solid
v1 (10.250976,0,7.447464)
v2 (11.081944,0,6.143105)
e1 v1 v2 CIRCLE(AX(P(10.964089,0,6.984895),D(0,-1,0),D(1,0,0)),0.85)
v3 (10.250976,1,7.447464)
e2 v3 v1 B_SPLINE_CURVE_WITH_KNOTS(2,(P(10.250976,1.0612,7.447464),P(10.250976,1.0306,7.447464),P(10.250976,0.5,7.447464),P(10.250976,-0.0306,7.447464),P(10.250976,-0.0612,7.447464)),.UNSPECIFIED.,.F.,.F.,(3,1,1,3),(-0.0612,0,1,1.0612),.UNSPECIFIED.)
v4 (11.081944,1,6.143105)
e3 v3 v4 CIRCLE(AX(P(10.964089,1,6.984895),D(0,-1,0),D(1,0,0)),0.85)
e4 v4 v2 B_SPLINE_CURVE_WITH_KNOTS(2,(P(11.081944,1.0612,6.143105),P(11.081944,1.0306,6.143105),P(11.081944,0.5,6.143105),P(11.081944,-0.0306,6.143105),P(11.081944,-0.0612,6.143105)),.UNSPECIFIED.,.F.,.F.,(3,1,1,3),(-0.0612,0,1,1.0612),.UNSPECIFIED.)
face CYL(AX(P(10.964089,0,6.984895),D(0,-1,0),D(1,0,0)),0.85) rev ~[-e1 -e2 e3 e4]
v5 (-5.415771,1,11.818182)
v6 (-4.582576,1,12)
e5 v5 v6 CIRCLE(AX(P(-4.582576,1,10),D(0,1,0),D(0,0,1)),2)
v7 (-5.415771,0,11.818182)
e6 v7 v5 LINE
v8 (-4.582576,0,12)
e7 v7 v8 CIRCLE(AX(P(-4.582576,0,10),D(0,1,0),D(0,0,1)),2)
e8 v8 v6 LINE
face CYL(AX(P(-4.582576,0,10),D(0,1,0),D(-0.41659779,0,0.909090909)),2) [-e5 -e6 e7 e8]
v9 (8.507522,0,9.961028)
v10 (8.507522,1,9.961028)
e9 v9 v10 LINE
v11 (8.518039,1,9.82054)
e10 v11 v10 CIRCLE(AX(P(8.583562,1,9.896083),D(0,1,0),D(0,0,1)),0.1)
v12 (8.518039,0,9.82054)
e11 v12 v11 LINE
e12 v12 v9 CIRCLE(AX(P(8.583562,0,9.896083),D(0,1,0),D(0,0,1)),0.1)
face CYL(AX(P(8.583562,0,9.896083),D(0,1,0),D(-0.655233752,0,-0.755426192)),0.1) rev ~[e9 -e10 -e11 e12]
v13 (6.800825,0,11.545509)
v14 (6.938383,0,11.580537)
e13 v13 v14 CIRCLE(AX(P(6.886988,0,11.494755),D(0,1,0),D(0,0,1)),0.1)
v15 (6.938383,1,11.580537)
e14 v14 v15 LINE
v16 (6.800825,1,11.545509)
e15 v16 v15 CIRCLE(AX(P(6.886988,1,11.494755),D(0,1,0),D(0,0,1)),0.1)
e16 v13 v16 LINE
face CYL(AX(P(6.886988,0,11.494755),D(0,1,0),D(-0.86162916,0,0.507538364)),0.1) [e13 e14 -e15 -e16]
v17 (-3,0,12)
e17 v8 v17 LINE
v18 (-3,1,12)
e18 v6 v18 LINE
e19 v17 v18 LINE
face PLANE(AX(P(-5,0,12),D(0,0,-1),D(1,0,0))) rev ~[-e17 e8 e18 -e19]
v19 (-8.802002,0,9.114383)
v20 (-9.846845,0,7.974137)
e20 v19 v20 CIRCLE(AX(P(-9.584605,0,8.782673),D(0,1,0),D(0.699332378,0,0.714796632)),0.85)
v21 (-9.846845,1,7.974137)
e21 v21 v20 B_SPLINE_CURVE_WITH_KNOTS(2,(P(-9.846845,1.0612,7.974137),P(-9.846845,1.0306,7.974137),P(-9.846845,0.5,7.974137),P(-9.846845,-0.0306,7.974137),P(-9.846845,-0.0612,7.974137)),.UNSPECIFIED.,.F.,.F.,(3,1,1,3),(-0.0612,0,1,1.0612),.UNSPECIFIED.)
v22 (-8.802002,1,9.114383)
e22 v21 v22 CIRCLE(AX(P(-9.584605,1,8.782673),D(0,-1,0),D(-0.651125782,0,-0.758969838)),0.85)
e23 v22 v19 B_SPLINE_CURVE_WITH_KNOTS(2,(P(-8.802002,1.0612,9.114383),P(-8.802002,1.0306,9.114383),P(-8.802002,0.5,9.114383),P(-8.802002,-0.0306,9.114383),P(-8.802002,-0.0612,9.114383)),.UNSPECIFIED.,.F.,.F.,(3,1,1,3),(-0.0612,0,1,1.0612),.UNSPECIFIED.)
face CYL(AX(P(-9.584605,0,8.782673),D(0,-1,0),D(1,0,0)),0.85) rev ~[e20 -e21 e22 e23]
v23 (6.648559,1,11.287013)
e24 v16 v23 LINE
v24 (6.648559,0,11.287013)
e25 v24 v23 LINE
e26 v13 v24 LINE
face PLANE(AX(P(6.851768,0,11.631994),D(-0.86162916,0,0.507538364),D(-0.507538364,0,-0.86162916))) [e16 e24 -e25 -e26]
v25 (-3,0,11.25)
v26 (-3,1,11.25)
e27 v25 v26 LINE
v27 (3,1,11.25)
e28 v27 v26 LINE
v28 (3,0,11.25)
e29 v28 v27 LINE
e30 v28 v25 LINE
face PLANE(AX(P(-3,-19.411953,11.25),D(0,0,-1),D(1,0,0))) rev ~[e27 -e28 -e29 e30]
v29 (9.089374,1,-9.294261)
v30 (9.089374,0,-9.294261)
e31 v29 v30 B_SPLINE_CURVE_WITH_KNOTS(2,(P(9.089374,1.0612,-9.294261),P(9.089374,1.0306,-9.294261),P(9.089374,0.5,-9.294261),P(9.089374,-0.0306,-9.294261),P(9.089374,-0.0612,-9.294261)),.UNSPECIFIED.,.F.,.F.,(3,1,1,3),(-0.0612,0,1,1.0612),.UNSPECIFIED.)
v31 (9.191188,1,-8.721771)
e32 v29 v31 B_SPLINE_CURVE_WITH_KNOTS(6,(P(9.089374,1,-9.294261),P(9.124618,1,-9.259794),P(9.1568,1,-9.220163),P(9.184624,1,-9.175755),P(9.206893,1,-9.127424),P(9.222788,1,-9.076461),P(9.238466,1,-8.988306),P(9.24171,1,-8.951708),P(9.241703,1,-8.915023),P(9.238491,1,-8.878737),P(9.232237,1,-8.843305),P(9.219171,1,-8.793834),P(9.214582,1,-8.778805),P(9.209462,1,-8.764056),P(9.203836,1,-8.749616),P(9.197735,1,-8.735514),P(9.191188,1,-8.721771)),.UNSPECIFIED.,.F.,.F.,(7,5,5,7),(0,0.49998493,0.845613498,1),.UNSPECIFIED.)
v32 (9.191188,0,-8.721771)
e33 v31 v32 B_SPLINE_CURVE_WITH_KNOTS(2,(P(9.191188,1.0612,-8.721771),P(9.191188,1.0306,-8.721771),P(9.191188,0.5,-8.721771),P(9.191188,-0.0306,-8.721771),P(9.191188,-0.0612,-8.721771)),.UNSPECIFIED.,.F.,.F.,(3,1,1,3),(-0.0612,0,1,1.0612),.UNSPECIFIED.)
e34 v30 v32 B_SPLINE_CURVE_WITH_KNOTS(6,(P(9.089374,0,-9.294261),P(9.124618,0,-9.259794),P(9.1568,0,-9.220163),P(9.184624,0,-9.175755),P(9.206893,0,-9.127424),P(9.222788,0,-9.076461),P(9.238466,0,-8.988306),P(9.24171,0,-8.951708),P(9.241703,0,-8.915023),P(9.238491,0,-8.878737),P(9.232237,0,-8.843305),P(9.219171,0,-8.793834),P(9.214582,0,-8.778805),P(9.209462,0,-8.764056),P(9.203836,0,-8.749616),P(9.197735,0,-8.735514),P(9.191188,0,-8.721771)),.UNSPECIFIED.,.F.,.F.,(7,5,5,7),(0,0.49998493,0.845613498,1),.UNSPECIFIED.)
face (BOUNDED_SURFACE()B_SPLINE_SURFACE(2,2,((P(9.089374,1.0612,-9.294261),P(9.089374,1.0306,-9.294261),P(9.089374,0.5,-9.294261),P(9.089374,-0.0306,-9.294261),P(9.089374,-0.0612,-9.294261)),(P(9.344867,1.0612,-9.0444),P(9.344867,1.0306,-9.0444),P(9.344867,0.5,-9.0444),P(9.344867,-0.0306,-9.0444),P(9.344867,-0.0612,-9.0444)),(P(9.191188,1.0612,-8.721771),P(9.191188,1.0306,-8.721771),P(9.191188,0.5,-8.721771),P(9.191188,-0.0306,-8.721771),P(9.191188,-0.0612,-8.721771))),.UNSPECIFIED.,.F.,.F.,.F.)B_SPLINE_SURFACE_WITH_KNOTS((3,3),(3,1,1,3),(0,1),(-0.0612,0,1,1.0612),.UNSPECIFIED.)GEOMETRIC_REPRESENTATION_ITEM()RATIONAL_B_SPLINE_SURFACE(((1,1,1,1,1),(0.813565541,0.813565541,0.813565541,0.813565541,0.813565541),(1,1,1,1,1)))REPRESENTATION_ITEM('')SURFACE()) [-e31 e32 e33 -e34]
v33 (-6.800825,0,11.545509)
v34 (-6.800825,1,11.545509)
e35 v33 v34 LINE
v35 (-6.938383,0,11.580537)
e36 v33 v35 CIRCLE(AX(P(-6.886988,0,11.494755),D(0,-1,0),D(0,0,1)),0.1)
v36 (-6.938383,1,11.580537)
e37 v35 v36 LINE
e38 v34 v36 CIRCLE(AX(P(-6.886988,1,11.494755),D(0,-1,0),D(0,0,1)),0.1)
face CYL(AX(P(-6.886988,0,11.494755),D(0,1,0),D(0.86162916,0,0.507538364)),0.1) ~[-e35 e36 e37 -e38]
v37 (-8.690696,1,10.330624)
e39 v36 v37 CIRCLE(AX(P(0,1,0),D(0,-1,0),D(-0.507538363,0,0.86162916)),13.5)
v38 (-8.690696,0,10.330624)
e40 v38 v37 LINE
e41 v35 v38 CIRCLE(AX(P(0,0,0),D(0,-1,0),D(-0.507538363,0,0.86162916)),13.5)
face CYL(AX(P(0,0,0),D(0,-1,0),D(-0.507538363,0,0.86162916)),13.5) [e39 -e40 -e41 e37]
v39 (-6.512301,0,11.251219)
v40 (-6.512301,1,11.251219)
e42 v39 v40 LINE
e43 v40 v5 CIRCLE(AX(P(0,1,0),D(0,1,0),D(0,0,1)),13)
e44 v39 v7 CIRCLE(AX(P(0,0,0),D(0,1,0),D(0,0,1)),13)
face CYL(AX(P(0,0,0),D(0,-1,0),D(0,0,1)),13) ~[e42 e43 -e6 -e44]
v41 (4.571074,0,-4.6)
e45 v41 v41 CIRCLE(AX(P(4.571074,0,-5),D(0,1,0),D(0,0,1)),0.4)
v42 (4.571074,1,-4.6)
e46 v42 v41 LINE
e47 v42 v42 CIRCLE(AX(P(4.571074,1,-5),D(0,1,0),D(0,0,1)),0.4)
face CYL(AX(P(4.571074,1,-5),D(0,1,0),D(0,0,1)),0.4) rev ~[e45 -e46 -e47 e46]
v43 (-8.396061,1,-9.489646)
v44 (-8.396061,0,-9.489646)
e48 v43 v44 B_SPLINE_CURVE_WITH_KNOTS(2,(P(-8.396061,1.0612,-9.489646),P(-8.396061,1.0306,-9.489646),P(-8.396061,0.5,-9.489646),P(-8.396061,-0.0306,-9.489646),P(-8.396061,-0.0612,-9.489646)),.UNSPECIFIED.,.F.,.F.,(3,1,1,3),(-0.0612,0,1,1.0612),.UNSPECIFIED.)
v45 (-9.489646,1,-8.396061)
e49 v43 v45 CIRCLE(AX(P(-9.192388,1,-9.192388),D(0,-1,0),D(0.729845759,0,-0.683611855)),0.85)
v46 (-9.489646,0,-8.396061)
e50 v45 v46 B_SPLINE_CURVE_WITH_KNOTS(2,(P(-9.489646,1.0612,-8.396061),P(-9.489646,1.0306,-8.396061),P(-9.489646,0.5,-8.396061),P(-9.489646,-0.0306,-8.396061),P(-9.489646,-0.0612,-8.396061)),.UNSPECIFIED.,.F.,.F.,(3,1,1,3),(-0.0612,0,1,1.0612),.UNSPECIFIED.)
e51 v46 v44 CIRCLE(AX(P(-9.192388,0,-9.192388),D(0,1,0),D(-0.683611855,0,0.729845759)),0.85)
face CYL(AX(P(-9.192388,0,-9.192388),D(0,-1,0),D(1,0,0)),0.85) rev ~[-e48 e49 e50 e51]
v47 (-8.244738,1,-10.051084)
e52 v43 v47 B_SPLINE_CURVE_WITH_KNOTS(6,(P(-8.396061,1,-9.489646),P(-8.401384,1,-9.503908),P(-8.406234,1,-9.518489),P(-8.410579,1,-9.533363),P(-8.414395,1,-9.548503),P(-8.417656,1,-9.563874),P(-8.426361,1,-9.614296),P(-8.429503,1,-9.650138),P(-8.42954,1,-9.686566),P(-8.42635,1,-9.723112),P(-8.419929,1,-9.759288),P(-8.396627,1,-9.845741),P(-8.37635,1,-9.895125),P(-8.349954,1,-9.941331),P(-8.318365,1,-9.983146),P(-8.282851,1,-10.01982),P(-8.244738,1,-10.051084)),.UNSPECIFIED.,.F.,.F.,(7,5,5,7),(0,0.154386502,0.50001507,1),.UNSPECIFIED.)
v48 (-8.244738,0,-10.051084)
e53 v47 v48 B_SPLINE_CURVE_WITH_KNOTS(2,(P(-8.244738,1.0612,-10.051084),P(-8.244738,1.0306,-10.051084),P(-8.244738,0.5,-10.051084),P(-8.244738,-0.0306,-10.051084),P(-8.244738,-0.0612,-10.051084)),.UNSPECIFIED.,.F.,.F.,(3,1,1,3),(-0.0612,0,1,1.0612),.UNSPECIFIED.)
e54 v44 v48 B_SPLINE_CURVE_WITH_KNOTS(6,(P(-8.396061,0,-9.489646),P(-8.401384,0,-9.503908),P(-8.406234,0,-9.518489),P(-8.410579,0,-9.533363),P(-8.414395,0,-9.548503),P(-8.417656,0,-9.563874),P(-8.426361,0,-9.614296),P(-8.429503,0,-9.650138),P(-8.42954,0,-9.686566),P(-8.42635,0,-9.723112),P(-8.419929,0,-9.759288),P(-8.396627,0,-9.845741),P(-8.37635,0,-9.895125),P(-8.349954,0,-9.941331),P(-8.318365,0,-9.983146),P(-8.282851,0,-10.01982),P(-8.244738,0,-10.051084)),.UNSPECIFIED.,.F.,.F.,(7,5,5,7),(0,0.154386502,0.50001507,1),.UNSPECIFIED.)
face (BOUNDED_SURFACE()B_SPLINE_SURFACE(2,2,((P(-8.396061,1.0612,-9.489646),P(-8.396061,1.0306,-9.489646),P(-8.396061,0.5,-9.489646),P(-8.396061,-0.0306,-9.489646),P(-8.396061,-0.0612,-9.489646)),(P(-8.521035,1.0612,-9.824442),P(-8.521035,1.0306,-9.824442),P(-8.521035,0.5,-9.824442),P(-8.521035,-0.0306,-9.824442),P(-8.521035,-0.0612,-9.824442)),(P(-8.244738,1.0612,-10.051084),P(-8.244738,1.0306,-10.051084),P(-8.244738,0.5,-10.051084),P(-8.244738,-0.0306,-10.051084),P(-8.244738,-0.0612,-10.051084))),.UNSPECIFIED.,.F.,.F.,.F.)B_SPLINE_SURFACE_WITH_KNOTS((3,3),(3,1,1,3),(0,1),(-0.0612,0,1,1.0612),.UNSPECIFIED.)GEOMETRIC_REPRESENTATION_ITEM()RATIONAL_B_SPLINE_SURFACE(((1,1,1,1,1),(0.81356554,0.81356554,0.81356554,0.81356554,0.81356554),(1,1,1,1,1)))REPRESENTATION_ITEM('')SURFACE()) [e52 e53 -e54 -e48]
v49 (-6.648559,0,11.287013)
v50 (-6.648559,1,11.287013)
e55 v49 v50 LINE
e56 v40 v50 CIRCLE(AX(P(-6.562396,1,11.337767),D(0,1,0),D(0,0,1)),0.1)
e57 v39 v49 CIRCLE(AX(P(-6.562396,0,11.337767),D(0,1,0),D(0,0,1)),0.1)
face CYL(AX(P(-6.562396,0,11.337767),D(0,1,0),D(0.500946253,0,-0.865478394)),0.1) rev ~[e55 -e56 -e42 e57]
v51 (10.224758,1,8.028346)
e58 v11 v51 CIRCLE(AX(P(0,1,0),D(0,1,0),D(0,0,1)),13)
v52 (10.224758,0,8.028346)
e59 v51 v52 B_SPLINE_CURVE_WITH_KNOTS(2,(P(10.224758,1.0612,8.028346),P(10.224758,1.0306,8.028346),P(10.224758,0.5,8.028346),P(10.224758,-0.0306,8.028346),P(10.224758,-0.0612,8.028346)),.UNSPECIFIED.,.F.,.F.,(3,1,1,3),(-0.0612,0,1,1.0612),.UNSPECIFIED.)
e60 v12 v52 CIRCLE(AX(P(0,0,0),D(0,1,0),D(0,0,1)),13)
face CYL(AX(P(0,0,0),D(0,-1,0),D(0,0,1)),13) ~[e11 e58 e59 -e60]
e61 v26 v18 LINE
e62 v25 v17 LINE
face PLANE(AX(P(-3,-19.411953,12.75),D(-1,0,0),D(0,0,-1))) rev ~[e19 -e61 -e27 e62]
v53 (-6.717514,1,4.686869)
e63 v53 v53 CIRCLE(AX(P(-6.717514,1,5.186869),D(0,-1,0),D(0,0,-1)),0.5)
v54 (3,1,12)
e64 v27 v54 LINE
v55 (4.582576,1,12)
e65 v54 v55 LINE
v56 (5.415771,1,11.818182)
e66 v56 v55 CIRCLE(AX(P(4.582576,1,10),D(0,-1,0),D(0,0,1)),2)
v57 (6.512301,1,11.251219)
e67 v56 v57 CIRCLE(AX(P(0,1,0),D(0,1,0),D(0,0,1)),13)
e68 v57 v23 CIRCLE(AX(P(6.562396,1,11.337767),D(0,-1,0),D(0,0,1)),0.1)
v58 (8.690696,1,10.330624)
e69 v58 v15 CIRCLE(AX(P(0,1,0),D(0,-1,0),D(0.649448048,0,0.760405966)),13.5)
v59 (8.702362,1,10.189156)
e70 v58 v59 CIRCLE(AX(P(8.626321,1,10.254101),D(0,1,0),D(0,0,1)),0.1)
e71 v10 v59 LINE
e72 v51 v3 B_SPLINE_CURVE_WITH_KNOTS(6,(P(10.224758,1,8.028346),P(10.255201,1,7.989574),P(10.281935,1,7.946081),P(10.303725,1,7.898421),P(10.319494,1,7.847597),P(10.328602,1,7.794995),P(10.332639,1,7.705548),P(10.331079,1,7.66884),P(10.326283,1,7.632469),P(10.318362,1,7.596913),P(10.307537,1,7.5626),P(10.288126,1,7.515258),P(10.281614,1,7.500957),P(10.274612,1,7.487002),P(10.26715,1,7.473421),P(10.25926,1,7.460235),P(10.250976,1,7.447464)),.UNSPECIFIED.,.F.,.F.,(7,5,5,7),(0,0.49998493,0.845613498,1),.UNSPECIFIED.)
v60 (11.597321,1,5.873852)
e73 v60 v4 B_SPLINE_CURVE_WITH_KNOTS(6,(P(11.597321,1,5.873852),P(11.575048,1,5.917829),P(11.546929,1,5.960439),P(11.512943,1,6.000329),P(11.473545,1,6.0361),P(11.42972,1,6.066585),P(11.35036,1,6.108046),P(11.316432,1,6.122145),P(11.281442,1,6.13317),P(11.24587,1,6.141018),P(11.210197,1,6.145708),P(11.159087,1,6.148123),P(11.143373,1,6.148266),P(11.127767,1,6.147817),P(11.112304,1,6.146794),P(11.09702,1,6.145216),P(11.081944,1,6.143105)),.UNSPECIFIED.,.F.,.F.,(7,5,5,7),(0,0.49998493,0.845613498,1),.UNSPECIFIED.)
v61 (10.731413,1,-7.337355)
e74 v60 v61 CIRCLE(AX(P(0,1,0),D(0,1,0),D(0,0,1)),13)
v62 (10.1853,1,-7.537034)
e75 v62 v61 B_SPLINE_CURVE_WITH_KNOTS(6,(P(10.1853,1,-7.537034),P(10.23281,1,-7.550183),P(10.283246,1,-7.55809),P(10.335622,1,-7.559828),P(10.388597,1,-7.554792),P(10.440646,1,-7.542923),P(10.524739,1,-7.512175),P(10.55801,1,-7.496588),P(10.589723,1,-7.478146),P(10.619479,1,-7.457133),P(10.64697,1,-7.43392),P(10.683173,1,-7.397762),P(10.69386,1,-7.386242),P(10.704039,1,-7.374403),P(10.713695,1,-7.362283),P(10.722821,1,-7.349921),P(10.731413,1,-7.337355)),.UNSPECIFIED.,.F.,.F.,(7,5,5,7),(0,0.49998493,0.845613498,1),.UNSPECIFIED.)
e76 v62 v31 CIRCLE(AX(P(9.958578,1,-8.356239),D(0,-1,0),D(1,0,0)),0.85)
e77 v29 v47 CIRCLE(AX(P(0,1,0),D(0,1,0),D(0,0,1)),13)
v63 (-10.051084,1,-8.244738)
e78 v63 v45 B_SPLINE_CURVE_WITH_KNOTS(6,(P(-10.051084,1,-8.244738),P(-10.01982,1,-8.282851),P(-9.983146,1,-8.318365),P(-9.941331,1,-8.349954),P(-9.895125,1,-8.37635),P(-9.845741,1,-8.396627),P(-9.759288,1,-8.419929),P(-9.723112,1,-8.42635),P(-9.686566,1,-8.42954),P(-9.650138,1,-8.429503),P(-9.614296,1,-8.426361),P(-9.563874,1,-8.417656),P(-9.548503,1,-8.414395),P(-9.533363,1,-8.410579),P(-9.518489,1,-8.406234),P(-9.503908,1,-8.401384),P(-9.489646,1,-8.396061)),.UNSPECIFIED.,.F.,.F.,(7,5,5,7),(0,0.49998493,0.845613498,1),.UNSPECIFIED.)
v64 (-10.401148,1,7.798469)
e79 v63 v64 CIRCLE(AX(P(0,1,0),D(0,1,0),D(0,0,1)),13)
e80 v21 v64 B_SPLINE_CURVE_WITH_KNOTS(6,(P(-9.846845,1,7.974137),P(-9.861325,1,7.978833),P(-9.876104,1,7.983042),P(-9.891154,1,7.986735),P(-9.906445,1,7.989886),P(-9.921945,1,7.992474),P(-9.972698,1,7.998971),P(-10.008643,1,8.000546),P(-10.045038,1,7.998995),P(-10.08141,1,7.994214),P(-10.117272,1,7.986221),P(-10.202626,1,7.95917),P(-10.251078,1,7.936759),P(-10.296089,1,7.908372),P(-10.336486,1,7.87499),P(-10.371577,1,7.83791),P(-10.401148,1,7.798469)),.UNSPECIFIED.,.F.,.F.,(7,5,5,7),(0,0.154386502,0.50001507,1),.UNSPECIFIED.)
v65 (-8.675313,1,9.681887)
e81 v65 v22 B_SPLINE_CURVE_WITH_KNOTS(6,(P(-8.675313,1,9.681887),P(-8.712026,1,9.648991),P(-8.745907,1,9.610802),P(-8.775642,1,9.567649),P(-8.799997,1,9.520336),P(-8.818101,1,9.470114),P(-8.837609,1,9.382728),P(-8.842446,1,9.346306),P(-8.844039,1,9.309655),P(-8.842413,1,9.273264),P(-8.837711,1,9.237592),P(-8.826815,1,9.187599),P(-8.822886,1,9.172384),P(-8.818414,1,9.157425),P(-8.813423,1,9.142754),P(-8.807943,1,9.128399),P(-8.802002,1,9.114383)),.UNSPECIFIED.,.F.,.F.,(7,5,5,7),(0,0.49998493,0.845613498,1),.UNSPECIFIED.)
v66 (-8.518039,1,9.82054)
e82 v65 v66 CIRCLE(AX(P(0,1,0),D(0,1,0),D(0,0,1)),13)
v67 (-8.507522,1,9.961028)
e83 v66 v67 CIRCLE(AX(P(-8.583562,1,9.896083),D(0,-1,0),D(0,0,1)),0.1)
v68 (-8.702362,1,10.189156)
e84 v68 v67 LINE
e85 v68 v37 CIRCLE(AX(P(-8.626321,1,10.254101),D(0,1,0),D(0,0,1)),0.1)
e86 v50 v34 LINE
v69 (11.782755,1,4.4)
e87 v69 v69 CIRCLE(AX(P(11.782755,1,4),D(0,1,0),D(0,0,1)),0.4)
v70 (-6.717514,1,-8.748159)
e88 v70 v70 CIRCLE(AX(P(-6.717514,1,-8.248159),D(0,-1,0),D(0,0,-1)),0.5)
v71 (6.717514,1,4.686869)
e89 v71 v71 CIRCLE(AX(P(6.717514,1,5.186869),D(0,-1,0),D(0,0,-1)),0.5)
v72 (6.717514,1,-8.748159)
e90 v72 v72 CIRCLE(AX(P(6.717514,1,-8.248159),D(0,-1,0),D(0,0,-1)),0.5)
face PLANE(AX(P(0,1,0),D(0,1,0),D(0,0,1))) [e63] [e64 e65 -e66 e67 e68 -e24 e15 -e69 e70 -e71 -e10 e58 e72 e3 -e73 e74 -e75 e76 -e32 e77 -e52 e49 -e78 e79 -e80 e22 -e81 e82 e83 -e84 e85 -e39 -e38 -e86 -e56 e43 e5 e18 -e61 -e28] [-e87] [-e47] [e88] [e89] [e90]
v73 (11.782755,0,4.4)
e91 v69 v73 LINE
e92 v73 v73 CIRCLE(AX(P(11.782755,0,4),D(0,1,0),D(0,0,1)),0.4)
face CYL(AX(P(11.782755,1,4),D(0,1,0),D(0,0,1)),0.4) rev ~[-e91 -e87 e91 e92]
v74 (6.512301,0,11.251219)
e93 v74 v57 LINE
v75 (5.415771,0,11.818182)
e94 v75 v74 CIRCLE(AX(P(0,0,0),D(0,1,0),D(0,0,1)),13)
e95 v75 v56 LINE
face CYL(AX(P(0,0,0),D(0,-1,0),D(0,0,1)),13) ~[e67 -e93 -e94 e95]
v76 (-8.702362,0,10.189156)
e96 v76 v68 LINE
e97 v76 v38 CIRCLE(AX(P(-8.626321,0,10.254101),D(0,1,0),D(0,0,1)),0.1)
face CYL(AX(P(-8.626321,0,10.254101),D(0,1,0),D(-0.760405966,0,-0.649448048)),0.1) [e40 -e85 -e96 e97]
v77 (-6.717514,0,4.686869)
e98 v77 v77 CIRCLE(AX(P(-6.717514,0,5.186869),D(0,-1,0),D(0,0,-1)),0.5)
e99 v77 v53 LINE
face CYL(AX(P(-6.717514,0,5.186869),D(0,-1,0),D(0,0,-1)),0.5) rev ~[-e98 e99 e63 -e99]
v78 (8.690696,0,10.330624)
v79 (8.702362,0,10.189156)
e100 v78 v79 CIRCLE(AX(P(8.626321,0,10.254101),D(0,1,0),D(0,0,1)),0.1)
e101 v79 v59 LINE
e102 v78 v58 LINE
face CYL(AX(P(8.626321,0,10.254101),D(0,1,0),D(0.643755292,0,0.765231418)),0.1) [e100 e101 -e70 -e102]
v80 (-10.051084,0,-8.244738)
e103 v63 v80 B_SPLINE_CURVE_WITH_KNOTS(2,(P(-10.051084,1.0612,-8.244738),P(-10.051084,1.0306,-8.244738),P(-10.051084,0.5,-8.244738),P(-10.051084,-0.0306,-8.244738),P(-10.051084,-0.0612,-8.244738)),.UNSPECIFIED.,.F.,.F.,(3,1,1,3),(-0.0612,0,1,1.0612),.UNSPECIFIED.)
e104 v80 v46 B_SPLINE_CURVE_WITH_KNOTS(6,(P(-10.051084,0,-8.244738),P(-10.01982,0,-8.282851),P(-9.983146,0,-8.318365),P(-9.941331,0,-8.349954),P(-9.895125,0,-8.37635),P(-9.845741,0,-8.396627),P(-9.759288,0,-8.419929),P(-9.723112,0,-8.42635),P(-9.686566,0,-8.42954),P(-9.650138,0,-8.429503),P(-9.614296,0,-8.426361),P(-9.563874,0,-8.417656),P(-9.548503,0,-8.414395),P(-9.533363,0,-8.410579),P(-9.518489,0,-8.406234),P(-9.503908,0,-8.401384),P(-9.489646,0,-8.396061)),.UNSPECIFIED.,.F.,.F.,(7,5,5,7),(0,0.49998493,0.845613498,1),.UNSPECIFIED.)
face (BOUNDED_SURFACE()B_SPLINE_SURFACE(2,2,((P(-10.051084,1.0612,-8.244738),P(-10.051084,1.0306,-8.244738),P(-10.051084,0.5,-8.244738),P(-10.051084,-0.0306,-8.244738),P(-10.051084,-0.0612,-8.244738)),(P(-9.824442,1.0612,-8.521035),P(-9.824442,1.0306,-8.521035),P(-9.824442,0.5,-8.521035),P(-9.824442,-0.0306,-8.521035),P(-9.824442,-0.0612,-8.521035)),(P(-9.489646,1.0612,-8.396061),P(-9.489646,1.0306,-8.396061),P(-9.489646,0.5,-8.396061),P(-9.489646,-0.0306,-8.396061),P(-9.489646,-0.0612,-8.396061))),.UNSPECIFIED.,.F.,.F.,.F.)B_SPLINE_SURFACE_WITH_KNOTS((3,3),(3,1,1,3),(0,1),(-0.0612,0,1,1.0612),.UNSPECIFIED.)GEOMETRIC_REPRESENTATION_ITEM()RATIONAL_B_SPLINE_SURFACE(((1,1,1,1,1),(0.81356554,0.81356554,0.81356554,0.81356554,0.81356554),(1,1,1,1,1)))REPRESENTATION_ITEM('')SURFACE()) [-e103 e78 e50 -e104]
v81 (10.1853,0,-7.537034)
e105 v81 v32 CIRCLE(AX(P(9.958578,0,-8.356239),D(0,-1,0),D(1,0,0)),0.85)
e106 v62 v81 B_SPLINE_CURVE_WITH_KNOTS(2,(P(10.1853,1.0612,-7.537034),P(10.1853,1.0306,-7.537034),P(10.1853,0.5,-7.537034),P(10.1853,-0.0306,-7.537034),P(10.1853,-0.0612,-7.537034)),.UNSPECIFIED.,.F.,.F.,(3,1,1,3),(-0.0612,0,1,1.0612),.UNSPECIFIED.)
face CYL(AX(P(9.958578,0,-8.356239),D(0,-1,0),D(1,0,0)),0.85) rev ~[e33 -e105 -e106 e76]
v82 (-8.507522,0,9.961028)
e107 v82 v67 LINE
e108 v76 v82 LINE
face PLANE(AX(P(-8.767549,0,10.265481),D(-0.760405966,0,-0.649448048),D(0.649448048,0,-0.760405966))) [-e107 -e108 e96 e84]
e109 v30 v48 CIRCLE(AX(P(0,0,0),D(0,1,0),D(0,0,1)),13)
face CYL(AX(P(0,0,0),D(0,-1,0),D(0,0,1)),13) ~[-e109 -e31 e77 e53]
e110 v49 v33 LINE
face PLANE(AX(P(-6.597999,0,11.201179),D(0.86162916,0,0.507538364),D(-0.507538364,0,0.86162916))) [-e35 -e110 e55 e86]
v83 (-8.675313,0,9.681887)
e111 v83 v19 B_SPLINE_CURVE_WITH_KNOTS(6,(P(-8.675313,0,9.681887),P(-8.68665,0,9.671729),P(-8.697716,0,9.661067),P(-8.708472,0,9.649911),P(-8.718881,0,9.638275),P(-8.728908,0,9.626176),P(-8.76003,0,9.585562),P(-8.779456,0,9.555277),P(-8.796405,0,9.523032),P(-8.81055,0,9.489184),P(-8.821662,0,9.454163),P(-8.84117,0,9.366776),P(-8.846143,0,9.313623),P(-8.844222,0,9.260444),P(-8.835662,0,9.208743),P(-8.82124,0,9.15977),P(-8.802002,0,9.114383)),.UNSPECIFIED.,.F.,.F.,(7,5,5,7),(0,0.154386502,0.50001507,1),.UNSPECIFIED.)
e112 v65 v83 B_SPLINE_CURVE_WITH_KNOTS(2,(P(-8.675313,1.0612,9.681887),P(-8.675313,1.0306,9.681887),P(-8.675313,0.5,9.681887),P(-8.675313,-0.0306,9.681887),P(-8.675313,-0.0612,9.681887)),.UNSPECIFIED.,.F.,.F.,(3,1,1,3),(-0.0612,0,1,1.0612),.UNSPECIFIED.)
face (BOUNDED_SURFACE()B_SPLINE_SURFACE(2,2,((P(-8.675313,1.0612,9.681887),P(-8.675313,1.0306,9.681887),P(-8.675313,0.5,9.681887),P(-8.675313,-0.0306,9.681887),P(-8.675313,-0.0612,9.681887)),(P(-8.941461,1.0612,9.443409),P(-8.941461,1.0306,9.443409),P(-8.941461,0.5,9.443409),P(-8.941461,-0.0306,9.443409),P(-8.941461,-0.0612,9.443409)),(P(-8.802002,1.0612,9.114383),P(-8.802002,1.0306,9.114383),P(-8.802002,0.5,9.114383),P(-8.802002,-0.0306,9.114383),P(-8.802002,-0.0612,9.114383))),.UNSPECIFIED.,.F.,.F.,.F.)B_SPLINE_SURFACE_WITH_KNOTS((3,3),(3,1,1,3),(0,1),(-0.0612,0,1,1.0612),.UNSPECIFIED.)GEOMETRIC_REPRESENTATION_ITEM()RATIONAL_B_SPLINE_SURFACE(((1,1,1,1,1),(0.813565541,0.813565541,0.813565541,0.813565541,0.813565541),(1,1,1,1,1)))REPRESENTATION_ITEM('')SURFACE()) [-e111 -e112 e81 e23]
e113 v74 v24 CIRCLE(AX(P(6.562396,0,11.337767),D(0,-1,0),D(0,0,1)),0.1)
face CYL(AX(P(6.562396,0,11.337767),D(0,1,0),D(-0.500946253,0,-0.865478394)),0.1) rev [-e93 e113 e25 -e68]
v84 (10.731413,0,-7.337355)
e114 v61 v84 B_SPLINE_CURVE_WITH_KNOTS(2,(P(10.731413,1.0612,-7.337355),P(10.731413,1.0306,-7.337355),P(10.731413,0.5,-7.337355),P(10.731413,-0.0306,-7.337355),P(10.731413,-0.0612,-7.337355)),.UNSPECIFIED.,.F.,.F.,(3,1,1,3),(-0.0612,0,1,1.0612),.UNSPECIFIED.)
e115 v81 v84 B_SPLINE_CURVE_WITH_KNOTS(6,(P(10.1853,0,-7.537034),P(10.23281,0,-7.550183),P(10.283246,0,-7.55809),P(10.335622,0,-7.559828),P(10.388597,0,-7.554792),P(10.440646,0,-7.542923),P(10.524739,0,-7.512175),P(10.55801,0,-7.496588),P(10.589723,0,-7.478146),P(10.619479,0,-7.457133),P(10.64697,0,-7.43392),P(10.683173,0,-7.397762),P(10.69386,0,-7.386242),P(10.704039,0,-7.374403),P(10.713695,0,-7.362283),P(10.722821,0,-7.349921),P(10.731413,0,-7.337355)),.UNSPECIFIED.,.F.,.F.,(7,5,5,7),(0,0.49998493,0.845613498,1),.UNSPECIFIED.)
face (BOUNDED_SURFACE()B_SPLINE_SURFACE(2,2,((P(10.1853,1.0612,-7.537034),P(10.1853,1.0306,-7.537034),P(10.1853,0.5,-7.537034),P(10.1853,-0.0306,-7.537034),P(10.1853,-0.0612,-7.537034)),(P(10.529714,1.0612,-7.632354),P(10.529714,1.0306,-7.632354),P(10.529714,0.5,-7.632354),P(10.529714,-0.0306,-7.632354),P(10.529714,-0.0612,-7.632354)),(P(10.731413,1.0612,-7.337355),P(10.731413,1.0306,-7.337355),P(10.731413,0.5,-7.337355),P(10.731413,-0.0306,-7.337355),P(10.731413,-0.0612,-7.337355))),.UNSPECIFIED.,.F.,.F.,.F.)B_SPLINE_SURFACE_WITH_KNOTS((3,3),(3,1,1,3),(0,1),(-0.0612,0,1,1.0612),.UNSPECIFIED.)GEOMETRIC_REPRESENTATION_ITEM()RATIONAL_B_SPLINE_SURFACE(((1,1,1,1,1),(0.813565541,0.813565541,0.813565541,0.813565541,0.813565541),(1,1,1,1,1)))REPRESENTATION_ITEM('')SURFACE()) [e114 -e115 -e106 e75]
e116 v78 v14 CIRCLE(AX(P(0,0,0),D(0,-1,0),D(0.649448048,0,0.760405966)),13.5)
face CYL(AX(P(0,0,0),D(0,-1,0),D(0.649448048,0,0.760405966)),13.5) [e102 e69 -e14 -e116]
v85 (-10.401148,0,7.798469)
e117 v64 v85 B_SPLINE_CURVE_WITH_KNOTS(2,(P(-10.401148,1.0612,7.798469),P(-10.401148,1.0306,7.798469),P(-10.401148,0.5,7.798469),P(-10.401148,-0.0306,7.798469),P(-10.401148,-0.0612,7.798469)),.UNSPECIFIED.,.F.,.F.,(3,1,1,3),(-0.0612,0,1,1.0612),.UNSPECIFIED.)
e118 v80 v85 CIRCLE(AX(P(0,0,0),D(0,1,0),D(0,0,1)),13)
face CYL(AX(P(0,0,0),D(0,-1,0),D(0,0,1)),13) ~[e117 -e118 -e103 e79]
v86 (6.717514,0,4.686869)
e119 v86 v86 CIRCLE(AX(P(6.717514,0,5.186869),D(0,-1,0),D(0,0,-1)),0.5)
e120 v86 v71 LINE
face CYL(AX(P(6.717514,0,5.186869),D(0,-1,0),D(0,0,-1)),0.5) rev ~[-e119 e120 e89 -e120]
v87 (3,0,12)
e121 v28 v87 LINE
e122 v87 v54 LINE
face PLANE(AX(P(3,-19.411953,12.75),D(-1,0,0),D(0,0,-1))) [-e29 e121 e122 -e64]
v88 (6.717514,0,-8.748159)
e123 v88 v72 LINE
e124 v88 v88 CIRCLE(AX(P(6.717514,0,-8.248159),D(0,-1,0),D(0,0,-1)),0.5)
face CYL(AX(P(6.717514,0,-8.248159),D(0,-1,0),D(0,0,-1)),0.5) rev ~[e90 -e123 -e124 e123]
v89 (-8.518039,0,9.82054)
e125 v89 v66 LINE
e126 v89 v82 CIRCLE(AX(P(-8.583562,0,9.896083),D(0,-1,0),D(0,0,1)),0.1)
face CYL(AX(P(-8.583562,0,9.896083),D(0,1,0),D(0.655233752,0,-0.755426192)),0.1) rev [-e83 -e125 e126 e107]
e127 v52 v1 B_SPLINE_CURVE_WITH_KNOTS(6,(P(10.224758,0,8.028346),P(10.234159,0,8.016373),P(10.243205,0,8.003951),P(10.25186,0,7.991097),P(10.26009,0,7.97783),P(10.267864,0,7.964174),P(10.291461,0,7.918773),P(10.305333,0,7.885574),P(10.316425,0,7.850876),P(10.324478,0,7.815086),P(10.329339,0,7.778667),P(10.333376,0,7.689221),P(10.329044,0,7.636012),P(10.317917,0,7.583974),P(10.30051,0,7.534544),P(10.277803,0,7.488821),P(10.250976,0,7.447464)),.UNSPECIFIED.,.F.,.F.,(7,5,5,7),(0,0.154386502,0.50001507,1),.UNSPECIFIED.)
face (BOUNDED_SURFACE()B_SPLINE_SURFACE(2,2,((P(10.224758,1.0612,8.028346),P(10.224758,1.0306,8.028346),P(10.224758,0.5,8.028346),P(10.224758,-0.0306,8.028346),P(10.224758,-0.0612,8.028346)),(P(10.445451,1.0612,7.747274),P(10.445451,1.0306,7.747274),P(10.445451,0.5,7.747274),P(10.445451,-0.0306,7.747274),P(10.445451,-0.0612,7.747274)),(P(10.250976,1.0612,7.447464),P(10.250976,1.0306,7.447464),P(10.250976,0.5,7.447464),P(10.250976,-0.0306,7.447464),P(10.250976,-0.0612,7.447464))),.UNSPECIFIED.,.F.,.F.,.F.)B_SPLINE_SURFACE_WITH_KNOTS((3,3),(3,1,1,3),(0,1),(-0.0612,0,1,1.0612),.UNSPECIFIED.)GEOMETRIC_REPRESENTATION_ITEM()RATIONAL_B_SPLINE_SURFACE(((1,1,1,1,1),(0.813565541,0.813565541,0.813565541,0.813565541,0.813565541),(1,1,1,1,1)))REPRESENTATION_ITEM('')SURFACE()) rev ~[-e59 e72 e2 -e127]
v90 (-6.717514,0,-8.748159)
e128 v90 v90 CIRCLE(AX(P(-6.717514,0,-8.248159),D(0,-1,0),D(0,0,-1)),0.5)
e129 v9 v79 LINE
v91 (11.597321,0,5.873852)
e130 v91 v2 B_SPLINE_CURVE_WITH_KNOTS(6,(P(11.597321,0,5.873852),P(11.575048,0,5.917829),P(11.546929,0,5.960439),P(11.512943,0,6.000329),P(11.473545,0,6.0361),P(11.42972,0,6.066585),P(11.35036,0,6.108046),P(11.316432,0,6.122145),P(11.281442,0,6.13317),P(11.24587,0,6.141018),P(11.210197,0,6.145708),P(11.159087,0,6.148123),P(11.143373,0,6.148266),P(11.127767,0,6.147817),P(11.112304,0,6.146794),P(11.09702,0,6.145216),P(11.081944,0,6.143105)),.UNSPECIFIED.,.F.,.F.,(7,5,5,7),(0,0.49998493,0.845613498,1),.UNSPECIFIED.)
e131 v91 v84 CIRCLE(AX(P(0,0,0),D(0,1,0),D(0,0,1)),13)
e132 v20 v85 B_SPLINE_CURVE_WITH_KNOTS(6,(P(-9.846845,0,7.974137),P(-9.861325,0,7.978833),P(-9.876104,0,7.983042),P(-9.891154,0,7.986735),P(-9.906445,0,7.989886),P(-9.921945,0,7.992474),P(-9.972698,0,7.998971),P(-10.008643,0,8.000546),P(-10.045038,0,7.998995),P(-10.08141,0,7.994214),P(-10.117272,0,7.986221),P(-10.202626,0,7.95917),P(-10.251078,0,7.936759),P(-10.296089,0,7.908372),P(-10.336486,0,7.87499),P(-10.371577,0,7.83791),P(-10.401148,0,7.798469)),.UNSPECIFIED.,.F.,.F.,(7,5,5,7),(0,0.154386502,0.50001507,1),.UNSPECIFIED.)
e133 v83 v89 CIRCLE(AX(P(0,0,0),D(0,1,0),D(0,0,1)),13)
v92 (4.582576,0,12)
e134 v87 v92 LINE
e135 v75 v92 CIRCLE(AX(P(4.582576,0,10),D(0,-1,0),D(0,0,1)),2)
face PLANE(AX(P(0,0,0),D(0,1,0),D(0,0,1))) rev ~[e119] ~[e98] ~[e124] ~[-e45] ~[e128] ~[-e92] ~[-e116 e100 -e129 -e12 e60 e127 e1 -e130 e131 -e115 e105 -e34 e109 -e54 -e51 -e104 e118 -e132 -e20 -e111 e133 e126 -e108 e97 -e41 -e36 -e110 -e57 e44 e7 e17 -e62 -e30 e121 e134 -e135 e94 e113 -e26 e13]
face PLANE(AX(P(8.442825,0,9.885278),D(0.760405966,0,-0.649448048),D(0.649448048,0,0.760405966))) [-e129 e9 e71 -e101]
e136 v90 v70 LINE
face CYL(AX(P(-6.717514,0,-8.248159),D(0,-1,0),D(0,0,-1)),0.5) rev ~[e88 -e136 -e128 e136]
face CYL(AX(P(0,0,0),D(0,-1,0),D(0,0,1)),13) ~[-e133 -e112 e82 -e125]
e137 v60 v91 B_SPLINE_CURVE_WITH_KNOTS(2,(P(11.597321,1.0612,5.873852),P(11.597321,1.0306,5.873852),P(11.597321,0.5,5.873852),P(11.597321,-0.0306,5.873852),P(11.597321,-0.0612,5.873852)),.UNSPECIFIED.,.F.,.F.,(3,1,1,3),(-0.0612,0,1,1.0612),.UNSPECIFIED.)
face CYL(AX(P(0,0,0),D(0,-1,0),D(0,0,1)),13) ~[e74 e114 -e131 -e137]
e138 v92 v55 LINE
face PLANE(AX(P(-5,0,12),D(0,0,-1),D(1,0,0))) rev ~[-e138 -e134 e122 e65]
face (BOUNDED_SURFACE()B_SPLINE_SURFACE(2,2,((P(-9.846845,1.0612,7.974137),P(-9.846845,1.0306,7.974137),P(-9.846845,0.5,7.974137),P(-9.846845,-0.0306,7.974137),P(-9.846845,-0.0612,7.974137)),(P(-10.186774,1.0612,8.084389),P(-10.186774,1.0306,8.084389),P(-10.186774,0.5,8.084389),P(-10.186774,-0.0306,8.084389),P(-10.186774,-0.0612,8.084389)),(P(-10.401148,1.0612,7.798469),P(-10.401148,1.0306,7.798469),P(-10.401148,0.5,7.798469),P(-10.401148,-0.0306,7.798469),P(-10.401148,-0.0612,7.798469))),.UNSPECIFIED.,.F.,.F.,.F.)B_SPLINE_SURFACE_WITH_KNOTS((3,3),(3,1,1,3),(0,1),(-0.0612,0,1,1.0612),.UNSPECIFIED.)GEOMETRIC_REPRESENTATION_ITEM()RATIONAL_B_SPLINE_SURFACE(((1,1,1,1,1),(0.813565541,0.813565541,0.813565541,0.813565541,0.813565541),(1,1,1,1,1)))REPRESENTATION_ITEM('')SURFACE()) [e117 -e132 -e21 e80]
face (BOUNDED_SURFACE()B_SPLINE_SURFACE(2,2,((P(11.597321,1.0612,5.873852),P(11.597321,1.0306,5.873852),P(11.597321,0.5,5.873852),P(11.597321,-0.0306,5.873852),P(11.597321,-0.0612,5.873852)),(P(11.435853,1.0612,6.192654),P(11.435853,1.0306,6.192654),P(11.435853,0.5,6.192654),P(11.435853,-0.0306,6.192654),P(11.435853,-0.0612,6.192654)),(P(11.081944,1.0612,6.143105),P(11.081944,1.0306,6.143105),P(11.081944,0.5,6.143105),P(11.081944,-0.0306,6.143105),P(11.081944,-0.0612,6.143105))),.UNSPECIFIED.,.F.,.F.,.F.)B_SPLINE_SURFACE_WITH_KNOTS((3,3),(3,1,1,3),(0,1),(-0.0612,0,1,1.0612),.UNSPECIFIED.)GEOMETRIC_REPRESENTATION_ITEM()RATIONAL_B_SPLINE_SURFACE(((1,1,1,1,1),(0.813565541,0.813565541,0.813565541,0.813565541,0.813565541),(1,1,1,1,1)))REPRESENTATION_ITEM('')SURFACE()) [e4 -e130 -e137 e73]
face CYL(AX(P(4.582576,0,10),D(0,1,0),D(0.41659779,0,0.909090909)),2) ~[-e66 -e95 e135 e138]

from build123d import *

# Parameters (mm, degrees)
SKETCH1_R               = 13
BOSS_EXTRUDE1_DEPTH     = 1
CUT_EXTRUDE2_DEPTH      = 1
FILLET1_R               = 2
SKETCH4_R               = 0.5
CUT_EXTRUDE3_DEPTH      = 1
SKETCH6_R               = 0.85
CUT_EXTRUDE4_DEPTH      = 10
FILLET2_R               = 0.5
BOSS_EXTRUDE4_START     = -1
BOSS_EXTRUDE4_DEPTH     = 1
FILLET4_R               = 0.1
CUT_EXTRUDE6_DEPTH      = 19.411952786
CUT_EXTRUDE6_DEPTH_BACK = 19.411952786
SKETCH11_W              = 6
SKETCH11_H              = 1.5
SKETCH12_R              = 0.4
CUT_EXTRUDE7_DEPTH      = 1


with BuildPart() as part:
    # Sketch1 → Boss-Extrude1 (new body)
    with BuildSketch(Plane(origin=(0, 0, 0), x_dir=(1, 0, 0), z_dir=(0, 1, 0))):
        with Locations(Location((0, 0, 0), (0, 0, 270))):
            Circle(SKETCH1_R)
    extrude(amount=BOSS_EXTRUDE1_DEPTH)

    # Sketch3 → Cut-Extrude2 (cut)
    with BuildSketch(Plane(origin=(0, 0, 0), x_dir=(1, 0, 0), z_dir=(0, 1, 0))):
        with BuildLine():
            Line((-5, -12), (5, -12))
            ThreePointArc((5, -12), (0, -13), (-5, -12))
        make_face()
    extrude(amount=CUT_EXTRUDE2_DEPTH, mode=Mode.SUBTRACT)

    # Fillet1
    fillet1_edges = [part.edges().sort_by_distance(p)[0] for p in [
        (-5, 0.5, 12),
        (5, 0.5, 12),
    ]]
    fillet(fillet1_edges, radius=FILLET1_R)

    # Sketch4 → Cut-Extrude3 (cut)
    with BuildSketch(Plane.XZ):
        with Locations(Location((6.717514421, 5.186869411, 0), (0, 0, 270))):
            Circle(SKETCH4_R)
        with Locations(Location((-6.717514421, 5.186869411, 0), (0, 0, 270))):
            Circle(SKETCH4_R)
        with Locations(Location((-6.717514421, -8.248159431, 0), (0, 0, 270))):
            Circle(SKETCH4_R)
        with Locations(Location((6.717514421, -8.248159431, 0), (0, 0, 270))):
            Circle(SKETCH4_R)
    extrude(amount=-CUT_EXTRUDE3_DEPTH, mode=Mode.SUBTRACT)

    # Sketch6 → Cut-Extrude4 (cut)
    with BuildSketch(Plane.XZ):
        with Locations((9.958577761, -8.356238926)):
            Circle(SKETCH6_R)
        with Locations((-9.584605379, 8.782672699)):
            Circle(SKETCH6_R)
        with Locations((-9.192388155, -9.192388155)):
            Circle(SKETCH6_R)
        with Locations((10.964088796, 6.984894909)):
            Circle(SKETCH6_R)
    extrude(amount=-CUT_EXTRUDE4_DEPTH, mode=Mode.SUBTRACT)

    # Fillet2
    fillet2_edges = [part.edges().sort_by_distance(p)[0] for p in [
        (10.484191703, 0.5, 7.686463708),
        (11.397112787, 0.5, 6.25346465),
        (-10.138062294, 0.5, 8.137548337),
        (-8.990172858, 0.5, 9.390249836),
        (-8.57201926, 0.5, -9.773458232),
        (-9.773458232, 0.5, -8.57201926),
        (10.483367978, 0.5, -7.687587127),
        (9.39121315, 0.5, -8.989166567),
    ]]
    fillet(fillet2_edges, radius=FILLET2_R)

    # Sketch10 → Boss-Extrude4 (add)
    with BuildSketch(Plane(origin=(0, 1, 0), x_dir=(1, 0, 0), z_dir=(0, 1, 0)).offset(BOSS_EXTRUDE4_START)):
        with BuildLine():
            Line((-6.597998718, -11.201179086), (-6.8517679, -11.631993666))
            ThreePointArc((-6.8517679, -11.631993666), (-7.839489902, -10.990559498), (-8.767548652, -10.265480536))
            Line((-8.767548652, -10.265480536), (-8.442824628, -9.885277553))
            ThreePointArc((-8.442824628, -9.885277553), (-7.549138424, -10.583501739), (-6.597998718, -11.201179086))
        make_face()
        with BuildLine():
            Line((8.442824628, -9.885277553), (8.767548652, -10.265480536))
            ThreePointArc((8.767548652, -10.265480536), (7.839489902, -10.990559498), (6.8517679, -11.631993666))
            Line((6.8517679, -11.631993666), (6.597998718, -11.201179086))
            ThreePointArc((6.597998718, -11.201179086), (7.549138424, -10.583501739), (8.442824628, -9.885277553))
        make_face()
    extrude(amount=BOSS_EXTRUDE4_DEPTH)

    # Fillet4
    fillet4_edges = [part.edges().sort_by_distance(p)[0] for p in [
        (-8.442824628, 0.5, 9.885277553),
        (-6.597998718, 0.5, 11.201179086),
        (-6.8517679, 0.5, 11.631993666),
        (-8.767548652, 0.5, 10.265480536),
        (6.597998718, 0.5, 11.201179086),
        (8.442824628, 0.5, 9.885277553),
        (8.767548652, 0.5, 10.265480536),
        (6.8517679, 0.5, 11.631993666),
    ]]
    fillet(fillet4_edges, radius=FILLET4_R)

    # Sketch11 → Cut-Extrude6 (cut, two sides: drawn at the far end of the back side and taken through both)
    with BuildSketch(Plane(origin=(0, 0, 0), x_dir=(1, 0, 0), z_dir=(0, 1, 0)).offset(-CUT_EXTRUDE6_DEPTH_BACK)):
        with Locations((0, -12)):
            Rectangle(SKETCH11_W, SKETCH11_H)
    extrude(amount=CUT_EXTRUDE6_DEPTH + CUT_EXTRUDE6_DEPTH_BACK, mode=Mode.SUBTRACT)

    # Sketch12 → Cut-Extrude7 (cut)
    with BuildSketch(Plane(origin=(0, 1, 0), x_dir=(1, 0, 0), z_dir=(0, 1, 0))):
        with Locations(Location((4.571073678, 5, 0), (0, 0, 270))):
            Circle(SKETCH12_R)
        with Locations(Location((11.782754706, -4.000000001, 0), (0, 0, 270))):
            Circle(SKETCH12_R)
    extrude(amount=-CUT_EXTRUDE7_DEPTH, mode=Mode.SUBTRACT)


solid = part.part
